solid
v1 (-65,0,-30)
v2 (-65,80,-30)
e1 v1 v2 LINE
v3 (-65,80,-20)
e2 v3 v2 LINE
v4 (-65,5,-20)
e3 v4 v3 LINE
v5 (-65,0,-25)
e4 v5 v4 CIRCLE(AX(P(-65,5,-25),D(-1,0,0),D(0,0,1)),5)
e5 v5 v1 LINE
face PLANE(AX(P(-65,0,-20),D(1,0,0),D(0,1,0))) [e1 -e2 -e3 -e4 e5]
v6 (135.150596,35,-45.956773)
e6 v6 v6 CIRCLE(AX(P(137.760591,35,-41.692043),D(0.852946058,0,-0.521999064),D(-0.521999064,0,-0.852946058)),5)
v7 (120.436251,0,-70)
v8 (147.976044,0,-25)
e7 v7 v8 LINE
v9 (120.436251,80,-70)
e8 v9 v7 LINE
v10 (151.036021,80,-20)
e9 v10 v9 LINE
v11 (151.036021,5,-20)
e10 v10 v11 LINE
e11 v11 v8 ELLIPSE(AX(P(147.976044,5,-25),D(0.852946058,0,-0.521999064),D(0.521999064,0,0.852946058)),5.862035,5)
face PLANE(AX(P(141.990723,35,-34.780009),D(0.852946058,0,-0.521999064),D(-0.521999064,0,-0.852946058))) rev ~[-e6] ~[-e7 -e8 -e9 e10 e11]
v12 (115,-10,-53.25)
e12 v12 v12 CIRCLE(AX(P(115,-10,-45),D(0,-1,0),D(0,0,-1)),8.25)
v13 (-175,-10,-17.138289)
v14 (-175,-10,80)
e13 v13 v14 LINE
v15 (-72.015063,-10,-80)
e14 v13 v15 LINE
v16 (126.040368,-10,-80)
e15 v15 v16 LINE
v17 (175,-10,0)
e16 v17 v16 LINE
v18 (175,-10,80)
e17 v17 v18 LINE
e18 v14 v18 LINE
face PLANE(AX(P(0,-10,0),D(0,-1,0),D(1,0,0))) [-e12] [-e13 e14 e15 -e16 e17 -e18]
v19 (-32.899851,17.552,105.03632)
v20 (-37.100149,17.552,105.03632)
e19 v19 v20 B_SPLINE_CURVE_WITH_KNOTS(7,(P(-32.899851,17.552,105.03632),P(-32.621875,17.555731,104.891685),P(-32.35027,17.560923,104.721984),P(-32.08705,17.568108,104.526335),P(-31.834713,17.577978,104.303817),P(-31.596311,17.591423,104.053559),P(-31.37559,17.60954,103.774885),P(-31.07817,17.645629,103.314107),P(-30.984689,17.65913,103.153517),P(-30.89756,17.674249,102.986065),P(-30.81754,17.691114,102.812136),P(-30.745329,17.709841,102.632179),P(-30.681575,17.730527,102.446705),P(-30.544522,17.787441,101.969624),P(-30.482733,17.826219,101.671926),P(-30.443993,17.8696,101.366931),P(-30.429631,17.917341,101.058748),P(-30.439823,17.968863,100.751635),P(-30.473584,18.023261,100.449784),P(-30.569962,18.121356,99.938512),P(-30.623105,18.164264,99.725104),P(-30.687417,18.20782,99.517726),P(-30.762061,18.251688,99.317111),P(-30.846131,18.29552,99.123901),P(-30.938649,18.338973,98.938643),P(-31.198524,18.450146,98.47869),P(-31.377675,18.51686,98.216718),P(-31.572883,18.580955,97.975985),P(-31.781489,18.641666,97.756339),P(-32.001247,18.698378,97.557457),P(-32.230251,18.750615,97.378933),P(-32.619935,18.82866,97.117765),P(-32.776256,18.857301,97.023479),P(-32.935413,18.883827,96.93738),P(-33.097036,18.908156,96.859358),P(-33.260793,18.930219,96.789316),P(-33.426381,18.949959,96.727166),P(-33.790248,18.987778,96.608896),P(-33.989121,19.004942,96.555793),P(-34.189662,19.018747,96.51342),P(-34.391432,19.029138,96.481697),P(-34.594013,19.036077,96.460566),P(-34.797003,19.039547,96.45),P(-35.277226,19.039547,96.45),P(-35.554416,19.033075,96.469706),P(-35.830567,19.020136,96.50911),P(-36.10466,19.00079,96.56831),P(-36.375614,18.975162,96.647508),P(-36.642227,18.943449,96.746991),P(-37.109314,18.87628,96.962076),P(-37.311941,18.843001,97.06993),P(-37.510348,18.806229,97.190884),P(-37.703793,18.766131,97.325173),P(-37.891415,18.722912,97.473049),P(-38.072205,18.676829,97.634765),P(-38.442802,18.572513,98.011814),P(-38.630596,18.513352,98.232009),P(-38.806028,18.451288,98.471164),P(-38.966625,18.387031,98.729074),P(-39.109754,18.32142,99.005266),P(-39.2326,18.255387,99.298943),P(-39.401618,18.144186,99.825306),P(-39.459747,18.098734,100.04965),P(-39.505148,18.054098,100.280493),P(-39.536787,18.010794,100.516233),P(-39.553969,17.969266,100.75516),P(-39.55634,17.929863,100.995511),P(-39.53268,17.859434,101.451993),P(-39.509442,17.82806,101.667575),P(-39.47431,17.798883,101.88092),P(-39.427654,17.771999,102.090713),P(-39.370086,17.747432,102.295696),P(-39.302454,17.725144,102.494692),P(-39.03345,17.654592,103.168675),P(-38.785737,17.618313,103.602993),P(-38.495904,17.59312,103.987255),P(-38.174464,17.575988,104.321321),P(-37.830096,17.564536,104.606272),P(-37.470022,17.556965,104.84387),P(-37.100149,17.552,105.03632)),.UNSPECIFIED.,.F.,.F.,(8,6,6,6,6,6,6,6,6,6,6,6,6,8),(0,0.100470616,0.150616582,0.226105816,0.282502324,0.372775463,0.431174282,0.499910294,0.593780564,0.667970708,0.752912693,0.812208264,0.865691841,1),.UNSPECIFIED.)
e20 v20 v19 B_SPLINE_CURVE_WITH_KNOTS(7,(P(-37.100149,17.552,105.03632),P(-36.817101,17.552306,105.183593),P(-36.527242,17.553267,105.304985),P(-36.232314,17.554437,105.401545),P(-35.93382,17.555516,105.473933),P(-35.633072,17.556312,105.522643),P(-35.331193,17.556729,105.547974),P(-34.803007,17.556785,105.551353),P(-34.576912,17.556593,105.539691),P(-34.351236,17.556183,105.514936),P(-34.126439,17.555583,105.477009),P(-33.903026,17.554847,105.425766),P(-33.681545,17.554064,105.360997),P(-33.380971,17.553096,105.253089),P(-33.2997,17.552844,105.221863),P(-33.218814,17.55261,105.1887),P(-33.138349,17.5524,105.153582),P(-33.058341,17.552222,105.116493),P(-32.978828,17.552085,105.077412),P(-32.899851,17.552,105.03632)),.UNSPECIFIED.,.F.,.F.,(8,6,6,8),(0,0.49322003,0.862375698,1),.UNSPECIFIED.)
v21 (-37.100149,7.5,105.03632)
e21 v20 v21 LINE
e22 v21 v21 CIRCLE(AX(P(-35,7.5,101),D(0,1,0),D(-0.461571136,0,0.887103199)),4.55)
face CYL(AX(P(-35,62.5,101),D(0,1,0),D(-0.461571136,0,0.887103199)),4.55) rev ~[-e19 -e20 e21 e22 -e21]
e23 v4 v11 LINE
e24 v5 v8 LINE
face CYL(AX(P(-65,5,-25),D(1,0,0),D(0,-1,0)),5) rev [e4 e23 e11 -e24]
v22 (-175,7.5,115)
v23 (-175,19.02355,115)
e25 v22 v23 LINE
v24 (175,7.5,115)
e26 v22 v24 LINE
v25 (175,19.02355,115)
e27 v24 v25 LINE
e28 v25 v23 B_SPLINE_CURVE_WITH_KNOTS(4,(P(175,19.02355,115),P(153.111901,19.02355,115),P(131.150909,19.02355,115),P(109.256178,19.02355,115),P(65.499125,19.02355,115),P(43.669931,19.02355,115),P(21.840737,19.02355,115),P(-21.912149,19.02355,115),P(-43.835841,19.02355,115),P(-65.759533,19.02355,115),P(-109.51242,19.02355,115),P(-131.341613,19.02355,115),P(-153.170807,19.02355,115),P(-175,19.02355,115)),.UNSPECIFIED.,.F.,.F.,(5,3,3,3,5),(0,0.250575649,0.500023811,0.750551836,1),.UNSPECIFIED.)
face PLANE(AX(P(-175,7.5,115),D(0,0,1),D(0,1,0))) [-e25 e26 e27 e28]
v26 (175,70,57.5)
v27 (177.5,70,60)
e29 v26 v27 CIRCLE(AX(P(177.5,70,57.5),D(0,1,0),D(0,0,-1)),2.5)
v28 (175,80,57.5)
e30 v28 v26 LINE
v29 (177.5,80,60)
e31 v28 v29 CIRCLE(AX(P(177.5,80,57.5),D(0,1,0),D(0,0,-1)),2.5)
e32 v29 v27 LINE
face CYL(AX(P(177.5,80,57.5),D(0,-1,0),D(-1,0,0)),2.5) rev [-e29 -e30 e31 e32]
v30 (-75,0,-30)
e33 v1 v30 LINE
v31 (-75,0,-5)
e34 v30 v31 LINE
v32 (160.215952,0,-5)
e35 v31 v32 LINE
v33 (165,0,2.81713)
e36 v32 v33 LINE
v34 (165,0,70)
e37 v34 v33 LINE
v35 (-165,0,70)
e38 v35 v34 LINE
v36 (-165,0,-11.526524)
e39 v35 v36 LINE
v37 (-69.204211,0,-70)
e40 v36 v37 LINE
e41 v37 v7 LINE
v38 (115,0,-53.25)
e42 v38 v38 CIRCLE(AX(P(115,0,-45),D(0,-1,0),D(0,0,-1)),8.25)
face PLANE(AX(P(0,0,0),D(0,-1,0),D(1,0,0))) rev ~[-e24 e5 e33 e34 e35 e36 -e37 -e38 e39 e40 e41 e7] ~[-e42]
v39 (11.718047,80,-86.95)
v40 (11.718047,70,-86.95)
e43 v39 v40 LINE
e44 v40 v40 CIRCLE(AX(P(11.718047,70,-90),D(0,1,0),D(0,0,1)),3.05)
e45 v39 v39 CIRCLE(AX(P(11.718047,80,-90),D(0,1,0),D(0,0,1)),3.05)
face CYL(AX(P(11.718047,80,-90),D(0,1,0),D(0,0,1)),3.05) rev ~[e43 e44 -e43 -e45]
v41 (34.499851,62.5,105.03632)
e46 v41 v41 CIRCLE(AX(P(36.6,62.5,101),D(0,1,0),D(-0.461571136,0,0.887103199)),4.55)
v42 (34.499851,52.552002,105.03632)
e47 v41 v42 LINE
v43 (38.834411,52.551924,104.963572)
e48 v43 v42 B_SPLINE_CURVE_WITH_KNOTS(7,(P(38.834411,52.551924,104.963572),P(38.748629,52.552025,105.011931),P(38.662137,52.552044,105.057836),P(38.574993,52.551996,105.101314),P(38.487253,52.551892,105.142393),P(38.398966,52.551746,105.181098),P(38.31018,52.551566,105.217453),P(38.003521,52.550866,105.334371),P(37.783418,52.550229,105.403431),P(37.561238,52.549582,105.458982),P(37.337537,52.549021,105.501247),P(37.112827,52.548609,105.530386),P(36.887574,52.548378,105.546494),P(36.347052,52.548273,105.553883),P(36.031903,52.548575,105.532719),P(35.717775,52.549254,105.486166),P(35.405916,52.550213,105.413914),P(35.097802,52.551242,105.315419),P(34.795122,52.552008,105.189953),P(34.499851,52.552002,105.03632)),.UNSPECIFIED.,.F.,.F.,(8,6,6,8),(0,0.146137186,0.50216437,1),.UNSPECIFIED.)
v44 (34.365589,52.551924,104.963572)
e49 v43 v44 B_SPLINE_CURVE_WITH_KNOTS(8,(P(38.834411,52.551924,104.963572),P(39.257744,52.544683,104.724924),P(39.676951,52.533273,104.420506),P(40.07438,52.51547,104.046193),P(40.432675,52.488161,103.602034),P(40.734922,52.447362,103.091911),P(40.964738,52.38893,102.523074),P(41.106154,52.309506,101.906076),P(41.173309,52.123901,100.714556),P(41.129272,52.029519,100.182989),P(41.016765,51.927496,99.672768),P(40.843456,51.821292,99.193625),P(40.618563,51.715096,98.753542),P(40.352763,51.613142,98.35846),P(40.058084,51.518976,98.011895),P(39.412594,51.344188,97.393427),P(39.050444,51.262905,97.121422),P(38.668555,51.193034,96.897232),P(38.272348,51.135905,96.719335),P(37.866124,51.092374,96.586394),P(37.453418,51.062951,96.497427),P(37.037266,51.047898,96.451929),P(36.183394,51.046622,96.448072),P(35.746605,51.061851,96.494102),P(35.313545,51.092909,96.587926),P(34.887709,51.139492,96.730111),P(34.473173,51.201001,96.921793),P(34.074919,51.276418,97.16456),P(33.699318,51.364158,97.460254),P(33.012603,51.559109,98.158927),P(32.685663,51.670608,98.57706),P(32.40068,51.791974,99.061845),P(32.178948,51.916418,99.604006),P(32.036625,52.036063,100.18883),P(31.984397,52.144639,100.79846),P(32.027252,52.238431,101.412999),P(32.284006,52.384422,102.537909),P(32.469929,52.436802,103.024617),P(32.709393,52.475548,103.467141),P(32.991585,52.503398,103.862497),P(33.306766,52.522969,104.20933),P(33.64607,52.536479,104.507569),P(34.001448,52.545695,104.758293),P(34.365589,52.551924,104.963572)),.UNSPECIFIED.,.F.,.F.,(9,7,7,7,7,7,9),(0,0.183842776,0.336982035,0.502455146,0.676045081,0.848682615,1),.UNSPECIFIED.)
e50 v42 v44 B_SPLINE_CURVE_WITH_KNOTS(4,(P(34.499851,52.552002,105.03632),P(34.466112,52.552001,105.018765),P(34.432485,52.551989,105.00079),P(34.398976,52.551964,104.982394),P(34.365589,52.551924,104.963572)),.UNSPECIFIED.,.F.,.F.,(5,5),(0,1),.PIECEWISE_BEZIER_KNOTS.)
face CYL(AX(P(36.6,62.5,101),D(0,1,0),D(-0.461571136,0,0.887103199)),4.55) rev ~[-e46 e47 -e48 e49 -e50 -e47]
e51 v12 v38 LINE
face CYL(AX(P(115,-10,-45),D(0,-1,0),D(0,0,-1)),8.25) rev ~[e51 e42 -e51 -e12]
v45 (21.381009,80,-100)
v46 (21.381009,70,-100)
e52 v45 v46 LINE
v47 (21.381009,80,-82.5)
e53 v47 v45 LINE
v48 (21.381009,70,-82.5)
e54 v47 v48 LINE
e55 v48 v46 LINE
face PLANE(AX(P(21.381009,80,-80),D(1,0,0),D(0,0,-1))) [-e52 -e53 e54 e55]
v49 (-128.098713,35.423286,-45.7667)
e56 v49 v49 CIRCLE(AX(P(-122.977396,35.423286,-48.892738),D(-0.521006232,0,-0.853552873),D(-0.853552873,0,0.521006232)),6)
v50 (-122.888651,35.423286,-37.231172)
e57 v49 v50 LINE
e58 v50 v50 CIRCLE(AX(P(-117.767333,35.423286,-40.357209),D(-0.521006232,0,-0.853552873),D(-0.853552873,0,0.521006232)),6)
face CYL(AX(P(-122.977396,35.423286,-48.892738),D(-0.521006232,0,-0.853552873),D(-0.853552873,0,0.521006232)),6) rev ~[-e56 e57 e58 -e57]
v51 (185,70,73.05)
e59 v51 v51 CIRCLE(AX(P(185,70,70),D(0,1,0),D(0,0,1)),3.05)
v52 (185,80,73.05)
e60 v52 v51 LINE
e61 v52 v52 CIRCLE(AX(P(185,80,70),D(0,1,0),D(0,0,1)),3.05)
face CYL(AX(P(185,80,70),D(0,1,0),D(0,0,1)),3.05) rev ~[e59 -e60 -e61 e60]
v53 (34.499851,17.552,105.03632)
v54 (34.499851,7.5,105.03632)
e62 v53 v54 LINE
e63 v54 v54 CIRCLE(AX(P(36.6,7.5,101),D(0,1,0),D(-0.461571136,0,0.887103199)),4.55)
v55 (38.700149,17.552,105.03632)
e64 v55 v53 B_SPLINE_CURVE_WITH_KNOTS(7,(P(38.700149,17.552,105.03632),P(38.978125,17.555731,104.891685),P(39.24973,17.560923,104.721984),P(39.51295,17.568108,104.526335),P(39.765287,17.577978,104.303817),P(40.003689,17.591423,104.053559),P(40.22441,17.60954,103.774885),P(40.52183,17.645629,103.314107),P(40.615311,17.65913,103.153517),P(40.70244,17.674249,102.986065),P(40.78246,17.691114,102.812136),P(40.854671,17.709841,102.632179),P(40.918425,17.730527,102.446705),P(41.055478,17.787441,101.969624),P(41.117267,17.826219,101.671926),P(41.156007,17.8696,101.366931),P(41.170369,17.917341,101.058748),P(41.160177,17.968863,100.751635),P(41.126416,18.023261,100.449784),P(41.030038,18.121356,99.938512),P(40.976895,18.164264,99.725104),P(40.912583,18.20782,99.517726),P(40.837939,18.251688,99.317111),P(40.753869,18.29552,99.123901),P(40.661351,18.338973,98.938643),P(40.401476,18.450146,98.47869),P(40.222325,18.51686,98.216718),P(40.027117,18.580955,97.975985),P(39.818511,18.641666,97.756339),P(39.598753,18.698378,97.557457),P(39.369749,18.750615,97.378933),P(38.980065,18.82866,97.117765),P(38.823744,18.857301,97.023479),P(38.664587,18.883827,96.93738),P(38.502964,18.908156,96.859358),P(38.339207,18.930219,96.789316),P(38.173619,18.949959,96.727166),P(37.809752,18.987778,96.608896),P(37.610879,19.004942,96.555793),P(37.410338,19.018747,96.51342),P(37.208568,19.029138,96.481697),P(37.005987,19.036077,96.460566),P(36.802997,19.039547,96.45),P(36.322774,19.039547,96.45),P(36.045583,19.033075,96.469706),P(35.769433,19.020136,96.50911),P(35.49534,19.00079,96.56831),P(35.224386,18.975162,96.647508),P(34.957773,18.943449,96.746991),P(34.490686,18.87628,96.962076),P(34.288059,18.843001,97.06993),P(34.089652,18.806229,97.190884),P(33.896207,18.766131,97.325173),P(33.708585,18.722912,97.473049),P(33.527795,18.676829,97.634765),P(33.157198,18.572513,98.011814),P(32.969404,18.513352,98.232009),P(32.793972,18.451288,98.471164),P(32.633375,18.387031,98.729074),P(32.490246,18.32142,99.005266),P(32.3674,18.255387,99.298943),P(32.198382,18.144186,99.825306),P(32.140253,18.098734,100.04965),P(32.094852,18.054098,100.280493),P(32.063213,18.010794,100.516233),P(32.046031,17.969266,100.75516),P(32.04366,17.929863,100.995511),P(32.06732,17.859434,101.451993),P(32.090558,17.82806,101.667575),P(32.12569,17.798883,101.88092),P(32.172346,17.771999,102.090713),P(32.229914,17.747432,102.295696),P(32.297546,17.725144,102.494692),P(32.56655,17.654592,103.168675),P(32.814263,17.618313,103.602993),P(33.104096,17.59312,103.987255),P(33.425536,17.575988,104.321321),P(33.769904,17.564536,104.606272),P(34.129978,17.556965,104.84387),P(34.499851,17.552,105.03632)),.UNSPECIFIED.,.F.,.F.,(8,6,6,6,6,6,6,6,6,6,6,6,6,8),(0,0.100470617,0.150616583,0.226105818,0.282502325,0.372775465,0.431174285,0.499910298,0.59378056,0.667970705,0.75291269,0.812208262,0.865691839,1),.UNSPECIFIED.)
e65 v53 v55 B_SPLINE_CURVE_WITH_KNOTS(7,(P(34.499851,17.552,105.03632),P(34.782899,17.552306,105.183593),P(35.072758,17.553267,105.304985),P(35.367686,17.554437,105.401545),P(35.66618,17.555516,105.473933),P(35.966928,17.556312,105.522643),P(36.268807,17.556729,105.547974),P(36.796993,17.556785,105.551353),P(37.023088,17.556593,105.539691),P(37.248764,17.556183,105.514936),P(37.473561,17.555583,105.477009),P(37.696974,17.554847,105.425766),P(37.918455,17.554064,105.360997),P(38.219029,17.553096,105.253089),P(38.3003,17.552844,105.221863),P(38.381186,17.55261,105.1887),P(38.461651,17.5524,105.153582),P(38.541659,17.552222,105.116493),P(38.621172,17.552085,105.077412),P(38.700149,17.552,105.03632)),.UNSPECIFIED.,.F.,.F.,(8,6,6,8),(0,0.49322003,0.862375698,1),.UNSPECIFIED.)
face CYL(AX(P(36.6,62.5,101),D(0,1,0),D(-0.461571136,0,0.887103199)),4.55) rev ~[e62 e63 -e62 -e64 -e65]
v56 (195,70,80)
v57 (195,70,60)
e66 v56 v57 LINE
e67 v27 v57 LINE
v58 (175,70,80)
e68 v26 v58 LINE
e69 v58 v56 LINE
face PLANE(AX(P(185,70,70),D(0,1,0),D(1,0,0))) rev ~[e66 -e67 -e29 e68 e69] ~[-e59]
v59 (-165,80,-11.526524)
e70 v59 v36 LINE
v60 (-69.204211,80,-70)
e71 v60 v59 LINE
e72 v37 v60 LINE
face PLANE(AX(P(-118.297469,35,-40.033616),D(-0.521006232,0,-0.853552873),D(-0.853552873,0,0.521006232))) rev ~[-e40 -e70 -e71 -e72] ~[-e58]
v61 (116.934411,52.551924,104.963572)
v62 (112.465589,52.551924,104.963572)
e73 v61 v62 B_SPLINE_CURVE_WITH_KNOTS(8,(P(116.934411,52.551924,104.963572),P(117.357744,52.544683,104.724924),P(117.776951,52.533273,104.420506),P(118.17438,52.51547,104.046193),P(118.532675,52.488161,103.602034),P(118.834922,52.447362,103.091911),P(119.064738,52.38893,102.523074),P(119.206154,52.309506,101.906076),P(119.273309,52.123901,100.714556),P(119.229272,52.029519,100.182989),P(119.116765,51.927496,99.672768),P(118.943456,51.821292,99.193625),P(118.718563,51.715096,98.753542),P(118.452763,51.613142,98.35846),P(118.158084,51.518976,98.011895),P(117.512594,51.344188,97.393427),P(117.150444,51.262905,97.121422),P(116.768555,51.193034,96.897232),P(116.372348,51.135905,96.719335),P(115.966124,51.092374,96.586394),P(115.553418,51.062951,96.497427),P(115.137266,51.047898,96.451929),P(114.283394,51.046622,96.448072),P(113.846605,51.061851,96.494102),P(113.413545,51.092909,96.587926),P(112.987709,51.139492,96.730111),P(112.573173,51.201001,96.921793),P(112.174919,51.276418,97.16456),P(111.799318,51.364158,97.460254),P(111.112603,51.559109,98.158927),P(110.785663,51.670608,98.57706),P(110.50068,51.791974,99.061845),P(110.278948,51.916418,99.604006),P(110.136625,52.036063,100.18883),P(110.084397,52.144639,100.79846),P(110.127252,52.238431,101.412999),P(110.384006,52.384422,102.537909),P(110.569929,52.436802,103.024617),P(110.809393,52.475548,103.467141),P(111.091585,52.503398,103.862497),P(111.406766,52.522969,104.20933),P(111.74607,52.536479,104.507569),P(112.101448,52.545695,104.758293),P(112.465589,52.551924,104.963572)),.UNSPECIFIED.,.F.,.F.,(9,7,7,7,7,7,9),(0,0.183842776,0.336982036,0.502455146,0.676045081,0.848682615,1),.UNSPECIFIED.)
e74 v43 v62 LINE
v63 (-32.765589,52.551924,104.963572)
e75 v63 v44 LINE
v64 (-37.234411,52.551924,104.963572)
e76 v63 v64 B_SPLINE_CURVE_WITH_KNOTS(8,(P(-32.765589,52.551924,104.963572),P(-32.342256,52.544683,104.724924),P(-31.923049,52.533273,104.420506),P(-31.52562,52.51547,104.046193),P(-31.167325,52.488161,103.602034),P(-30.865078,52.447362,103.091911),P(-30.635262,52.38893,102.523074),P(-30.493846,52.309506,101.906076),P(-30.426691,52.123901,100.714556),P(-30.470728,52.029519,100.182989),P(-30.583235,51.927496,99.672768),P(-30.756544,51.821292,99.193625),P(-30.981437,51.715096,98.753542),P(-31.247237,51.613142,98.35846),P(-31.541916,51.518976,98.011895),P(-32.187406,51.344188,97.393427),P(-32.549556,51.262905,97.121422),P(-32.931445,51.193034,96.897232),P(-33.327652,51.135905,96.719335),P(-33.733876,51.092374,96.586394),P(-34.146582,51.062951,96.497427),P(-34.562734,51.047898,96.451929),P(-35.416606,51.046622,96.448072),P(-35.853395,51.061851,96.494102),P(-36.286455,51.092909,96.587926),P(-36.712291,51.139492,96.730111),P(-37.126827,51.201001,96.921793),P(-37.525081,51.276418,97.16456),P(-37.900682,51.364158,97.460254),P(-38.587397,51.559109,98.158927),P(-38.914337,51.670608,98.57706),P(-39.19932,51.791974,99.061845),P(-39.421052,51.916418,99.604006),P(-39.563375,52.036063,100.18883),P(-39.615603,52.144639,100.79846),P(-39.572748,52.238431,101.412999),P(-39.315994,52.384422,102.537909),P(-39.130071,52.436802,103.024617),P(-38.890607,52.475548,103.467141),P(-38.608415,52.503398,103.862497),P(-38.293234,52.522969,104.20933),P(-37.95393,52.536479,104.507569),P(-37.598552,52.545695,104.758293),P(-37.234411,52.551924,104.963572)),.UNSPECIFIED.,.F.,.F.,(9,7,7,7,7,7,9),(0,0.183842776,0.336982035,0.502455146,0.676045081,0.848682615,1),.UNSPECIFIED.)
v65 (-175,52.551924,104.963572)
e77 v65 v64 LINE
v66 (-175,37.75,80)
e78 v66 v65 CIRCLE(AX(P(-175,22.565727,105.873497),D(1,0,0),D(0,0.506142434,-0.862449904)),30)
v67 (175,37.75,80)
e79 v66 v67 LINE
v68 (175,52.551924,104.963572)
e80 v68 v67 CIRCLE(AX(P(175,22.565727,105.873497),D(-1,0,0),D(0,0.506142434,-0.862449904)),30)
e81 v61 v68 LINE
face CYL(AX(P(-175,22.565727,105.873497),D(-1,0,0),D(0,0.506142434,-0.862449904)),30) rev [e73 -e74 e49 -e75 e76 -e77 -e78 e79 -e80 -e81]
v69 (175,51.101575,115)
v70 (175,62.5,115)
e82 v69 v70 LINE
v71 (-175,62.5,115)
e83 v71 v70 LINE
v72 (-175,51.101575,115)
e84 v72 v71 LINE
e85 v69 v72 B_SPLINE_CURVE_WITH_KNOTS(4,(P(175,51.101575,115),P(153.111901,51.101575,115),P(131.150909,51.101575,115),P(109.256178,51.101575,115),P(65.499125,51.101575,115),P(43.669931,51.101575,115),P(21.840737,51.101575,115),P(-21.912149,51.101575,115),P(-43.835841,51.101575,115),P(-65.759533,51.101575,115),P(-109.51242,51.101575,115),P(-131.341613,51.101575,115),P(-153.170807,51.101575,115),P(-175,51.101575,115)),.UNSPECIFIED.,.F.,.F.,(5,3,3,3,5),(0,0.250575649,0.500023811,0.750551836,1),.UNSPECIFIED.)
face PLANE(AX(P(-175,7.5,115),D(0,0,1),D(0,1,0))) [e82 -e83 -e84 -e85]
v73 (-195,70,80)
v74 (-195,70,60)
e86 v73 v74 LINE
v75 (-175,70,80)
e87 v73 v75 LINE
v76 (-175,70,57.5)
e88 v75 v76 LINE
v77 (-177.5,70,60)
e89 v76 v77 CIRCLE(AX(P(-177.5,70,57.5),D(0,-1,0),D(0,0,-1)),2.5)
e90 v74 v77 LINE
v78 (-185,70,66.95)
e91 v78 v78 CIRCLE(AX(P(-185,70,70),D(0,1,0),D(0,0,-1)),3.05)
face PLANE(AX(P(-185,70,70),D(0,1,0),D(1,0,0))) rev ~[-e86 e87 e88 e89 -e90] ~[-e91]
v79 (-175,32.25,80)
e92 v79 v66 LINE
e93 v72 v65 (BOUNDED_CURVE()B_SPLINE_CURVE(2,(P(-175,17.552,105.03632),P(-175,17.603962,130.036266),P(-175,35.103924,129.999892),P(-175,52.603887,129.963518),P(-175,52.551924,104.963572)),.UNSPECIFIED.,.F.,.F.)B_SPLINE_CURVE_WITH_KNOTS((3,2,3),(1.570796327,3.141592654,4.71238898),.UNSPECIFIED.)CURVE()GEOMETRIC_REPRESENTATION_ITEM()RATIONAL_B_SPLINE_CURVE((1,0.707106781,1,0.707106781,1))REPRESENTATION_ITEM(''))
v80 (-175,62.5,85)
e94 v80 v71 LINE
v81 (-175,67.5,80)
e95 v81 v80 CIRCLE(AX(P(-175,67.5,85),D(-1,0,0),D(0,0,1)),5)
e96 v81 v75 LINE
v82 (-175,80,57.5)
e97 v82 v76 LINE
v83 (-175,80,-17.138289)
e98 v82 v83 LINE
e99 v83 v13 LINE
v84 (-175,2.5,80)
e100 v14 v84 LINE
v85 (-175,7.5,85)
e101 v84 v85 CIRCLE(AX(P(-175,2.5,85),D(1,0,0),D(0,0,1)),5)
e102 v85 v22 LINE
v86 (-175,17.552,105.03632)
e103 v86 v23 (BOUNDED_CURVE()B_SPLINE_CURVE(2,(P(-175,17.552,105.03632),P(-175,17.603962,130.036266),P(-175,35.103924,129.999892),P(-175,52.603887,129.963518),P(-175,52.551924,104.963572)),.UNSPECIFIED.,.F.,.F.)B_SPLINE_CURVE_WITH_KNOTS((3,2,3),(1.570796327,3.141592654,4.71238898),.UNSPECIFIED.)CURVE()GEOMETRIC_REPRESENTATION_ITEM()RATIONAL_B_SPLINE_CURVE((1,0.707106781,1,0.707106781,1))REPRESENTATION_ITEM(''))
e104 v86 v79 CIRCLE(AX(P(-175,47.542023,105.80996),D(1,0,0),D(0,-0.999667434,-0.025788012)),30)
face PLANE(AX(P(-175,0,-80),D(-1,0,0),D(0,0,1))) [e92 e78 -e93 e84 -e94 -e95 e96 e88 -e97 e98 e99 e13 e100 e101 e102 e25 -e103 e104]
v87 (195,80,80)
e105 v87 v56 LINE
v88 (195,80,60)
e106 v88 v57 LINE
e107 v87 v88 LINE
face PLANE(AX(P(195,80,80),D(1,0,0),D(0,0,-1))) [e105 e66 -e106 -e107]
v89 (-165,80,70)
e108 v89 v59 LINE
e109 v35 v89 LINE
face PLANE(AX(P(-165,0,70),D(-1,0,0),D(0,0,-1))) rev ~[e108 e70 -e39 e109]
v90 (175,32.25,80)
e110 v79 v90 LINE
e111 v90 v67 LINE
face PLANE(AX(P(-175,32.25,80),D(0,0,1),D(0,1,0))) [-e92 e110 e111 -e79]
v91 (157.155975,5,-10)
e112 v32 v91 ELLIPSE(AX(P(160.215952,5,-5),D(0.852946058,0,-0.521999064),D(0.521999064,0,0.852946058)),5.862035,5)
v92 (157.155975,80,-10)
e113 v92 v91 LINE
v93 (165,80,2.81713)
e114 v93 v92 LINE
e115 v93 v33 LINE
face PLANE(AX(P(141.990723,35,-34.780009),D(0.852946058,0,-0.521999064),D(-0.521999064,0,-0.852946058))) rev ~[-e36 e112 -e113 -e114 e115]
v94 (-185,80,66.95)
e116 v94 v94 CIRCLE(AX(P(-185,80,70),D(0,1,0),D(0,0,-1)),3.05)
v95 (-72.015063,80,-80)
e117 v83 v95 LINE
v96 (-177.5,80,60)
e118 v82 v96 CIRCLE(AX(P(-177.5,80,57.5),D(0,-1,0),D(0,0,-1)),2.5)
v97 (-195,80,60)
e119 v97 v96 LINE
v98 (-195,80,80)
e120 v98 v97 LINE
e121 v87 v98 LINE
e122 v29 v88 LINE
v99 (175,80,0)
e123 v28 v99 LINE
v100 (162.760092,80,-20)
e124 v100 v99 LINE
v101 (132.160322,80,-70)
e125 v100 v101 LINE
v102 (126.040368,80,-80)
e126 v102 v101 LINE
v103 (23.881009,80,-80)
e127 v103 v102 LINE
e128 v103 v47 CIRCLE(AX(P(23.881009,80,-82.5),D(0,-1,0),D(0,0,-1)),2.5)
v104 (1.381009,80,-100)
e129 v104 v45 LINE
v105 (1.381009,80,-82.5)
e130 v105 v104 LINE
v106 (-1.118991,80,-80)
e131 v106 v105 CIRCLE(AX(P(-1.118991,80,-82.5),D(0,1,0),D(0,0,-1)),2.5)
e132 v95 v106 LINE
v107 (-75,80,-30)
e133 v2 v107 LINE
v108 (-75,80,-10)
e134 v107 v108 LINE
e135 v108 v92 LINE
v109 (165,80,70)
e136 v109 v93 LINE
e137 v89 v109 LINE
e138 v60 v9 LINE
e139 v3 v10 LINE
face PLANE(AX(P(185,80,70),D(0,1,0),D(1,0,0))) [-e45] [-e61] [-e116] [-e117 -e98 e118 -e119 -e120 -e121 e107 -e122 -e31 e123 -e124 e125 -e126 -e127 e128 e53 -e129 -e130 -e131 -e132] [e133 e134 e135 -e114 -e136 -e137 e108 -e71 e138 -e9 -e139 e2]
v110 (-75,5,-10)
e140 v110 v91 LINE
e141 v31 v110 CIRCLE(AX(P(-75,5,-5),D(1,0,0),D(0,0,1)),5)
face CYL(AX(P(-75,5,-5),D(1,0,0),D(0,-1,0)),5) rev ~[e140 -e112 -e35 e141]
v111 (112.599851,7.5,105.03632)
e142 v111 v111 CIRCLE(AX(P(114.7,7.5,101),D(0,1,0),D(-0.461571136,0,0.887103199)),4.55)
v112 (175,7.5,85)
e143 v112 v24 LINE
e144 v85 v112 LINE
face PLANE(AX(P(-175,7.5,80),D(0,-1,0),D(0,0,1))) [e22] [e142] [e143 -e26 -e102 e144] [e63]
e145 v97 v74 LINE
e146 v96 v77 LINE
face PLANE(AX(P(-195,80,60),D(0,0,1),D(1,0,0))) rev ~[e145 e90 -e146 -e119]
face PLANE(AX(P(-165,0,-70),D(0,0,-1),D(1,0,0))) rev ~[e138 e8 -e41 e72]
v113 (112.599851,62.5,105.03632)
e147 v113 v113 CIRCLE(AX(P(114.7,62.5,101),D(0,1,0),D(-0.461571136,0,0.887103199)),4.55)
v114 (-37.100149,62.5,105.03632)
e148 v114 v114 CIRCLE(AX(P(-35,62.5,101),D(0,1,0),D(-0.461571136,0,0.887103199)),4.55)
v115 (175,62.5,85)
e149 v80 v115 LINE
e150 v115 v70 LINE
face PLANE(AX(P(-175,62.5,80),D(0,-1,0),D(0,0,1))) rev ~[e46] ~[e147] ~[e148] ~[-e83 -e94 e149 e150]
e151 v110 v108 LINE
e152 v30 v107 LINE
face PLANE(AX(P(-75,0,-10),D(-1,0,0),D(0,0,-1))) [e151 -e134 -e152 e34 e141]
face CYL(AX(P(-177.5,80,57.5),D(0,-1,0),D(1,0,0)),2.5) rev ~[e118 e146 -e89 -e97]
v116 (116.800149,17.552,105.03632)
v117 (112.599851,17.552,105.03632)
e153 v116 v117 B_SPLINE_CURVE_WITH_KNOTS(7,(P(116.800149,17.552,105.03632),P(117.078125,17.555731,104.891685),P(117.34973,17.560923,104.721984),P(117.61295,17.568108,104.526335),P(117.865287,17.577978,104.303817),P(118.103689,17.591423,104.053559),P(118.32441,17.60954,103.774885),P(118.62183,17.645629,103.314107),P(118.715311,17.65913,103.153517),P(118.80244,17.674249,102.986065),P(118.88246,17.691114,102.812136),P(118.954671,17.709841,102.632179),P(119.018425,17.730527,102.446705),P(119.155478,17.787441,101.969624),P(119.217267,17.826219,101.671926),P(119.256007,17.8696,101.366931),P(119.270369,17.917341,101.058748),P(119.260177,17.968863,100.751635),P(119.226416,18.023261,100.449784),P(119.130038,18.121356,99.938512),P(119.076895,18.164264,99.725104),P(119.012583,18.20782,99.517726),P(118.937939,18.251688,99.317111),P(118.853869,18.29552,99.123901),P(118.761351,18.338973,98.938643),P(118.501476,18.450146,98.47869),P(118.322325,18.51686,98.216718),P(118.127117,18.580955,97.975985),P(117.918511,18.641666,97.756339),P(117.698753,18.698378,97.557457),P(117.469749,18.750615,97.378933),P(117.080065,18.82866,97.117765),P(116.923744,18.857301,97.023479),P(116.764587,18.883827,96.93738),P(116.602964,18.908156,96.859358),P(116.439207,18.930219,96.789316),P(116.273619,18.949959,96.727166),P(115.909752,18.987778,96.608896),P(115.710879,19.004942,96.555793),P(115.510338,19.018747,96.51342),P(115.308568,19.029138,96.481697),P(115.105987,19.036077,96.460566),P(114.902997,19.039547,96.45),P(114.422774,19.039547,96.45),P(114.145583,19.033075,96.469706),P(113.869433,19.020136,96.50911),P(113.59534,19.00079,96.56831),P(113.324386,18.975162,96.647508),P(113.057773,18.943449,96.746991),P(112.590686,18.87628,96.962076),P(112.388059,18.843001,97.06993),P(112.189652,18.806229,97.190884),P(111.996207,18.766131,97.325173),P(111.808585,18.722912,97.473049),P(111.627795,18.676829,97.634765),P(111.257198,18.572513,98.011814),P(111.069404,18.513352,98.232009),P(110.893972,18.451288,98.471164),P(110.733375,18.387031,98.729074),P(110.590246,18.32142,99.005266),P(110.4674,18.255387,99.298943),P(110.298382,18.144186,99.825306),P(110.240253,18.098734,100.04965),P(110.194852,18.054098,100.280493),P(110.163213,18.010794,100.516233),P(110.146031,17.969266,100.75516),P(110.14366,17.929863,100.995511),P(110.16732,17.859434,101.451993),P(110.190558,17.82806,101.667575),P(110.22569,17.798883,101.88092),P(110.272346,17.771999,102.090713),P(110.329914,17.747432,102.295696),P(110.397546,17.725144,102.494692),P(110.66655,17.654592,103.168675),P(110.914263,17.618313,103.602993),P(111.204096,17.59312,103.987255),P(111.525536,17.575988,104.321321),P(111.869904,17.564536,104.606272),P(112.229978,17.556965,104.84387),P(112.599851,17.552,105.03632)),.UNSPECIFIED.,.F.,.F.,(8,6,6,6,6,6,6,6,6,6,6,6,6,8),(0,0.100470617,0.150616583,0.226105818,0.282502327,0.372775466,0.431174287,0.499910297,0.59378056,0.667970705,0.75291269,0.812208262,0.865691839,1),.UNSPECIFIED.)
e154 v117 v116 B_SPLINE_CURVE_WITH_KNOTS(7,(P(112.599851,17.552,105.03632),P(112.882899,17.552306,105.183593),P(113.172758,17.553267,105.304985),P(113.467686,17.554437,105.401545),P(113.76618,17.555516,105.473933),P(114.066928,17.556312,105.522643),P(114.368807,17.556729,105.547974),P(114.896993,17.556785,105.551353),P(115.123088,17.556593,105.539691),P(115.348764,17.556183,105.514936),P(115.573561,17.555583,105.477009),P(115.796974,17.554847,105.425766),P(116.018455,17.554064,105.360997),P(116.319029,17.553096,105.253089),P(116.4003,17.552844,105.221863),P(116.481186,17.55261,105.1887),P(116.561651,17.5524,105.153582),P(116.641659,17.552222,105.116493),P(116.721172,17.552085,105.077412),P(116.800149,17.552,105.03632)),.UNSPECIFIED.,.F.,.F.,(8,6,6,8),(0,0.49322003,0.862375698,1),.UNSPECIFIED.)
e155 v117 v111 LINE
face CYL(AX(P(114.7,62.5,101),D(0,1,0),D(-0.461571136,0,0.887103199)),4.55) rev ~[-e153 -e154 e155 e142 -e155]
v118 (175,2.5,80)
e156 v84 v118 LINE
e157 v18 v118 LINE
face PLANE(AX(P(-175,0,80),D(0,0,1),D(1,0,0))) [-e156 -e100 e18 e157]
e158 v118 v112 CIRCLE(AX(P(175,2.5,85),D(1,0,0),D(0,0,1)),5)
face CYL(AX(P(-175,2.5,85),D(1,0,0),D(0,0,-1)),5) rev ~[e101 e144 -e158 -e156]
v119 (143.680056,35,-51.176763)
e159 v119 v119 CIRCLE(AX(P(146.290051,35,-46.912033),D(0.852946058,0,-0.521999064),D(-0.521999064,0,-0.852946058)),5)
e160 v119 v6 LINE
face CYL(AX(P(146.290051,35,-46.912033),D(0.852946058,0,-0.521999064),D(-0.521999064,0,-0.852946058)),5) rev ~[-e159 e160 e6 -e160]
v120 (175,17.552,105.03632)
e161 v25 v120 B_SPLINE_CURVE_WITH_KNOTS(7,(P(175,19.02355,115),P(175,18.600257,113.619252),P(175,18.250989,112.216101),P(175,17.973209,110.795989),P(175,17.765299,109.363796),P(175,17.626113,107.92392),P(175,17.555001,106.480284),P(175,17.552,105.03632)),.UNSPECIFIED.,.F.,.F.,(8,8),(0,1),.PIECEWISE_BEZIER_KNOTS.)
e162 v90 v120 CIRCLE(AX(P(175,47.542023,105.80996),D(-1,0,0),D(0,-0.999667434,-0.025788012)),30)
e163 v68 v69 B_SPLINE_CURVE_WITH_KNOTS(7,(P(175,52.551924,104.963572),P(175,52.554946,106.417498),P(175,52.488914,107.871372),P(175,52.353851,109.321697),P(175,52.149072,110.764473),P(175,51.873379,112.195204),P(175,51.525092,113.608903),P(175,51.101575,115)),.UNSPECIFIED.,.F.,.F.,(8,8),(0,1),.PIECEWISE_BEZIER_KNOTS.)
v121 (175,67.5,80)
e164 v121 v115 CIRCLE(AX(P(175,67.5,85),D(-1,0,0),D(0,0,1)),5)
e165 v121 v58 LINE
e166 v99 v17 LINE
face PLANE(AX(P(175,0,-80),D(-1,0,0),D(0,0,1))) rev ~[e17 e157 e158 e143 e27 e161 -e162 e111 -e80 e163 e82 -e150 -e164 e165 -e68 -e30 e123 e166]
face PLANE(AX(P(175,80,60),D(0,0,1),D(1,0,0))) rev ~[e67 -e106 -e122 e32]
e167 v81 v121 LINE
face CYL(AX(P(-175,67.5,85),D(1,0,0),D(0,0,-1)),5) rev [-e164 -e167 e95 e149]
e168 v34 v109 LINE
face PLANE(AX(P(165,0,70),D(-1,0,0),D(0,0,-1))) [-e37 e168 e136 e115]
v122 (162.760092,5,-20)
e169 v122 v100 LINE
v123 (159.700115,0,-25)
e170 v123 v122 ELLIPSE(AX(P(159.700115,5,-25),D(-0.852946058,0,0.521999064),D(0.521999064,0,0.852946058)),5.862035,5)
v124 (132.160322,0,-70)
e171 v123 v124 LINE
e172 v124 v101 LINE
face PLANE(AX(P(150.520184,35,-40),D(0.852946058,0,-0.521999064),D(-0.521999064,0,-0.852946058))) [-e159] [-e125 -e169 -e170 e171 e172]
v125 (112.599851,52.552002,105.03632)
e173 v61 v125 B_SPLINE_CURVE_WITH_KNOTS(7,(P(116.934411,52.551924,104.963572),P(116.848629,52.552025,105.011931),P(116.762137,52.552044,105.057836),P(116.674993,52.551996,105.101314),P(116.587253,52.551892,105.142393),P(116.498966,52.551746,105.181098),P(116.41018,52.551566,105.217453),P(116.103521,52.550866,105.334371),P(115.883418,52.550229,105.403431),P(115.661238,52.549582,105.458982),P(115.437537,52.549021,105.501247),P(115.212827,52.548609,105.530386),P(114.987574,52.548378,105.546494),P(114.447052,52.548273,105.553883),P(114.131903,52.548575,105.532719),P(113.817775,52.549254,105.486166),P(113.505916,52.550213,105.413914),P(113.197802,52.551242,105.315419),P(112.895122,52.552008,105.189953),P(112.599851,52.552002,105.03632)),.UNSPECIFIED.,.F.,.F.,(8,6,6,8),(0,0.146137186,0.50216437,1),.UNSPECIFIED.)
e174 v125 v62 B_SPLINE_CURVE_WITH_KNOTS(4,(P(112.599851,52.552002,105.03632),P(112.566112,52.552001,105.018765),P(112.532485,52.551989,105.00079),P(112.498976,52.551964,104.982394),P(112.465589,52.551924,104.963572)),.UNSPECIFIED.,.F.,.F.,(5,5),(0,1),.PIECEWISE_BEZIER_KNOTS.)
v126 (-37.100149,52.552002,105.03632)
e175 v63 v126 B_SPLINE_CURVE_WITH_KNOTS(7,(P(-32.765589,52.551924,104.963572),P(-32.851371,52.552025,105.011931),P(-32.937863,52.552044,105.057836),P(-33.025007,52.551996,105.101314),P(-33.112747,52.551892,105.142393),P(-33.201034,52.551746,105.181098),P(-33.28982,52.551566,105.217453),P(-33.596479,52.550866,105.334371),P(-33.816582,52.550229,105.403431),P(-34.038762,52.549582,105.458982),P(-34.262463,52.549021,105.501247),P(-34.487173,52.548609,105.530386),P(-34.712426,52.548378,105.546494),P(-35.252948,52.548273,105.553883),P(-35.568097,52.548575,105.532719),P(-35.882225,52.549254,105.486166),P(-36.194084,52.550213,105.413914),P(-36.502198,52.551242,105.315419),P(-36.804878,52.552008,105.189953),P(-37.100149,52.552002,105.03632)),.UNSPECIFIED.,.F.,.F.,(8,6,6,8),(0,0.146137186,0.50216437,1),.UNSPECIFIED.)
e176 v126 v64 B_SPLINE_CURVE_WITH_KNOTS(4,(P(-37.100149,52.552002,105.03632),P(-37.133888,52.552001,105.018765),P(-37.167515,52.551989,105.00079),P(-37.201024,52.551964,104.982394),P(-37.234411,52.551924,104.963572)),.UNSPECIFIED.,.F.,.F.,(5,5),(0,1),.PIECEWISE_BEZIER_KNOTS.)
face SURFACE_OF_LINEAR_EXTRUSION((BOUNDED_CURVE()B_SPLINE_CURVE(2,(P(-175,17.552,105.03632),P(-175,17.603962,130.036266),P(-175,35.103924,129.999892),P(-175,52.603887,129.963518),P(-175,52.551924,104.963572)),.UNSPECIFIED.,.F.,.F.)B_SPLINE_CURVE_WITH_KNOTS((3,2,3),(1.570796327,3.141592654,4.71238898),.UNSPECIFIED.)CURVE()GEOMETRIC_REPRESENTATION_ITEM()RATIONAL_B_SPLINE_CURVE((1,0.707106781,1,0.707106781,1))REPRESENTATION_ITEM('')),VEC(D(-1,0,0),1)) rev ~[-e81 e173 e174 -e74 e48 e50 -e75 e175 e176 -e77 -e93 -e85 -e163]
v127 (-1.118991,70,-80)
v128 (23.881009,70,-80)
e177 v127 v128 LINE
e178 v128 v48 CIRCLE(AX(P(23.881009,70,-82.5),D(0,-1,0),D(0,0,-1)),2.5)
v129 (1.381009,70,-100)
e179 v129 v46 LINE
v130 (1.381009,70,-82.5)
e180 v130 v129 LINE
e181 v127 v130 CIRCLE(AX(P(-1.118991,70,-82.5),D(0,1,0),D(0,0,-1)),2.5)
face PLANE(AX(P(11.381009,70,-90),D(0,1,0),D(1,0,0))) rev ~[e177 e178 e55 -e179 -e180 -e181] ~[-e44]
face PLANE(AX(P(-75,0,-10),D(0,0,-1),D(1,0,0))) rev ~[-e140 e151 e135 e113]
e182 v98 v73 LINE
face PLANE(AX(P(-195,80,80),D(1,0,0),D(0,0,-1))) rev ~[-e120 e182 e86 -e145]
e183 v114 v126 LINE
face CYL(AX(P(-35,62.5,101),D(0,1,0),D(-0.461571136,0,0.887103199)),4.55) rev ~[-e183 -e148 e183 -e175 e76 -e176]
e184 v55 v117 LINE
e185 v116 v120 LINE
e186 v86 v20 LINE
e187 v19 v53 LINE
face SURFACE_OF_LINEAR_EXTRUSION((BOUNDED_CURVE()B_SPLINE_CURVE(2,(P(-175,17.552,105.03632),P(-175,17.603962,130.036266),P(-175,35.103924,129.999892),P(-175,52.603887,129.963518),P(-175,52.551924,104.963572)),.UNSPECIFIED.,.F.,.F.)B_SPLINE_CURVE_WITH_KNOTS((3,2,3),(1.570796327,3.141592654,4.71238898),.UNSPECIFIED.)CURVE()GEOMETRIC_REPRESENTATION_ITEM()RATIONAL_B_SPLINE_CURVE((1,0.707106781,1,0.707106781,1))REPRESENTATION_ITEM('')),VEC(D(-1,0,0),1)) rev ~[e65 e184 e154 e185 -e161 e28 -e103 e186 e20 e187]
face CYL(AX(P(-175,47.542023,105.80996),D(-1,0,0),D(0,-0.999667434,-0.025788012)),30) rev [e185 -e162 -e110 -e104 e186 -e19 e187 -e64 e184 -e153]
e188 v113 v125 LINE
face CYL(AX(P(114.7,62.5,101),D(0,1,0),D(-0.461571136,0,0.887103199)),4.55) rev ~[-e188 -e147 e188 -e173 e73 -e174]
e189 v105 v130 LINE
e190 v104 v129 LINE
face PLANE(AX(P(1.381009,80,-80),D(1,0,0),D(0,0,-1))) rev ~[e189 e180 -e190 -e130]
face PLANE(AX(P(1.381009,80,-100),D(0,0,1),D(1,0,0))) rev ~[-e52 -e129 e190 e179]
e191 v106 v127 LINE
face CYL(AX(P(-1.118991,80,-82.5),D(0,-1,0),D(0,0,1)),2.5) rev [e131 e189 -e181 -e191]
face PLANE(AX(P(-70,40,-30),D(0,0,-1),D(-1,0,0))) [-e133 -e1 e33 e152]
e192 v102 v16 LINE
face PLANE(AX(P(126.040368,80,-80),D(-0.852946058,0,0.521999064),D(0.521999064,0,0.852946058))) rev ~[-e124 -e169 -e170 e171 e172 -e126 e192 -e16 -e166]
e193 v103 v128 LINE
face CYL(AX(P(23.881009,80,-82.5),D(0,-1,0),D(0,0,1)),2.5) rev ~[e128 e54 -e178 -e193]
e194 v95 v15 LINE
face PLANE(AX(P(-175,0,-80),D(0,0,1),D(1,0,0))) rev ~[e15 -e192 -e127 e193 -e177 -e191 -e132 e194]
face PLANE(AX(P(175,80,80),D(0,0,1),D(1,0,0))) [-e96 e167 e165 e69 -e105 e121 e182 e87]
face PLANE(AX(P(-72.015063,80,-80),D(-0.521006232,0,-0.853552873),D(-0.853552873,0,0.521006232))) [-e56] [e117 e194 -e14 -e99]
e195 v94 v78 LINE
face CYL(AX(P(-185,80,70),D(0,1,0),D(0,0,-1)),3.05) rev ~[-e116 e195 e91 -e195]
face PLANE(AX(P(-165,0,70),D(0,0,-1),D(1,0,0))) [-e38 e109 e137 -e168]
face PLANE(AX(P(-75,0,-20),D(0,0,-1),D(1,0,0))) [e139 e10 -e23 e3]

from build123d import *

# Parameters (mm, degrees)
SKETCH1_W            = 350
SKETCH1_H            = 160
SKETCH1_W_2          = 330
SKETCH1_H_2          = 140
BOSS_EXTRUDE1_DEPTH  = 80
SKETCH2_W            = 350
SKETCH2_H            = 160
BOSS_EXTRUDE2_DEPTH  = 10
SKETCH3_W            = 240
SKETCH3_H            = 10
BOSS_EXTRUDE3_DEPTH  = 80
SKETCH4_R            = 8.25
CUT_EXTRUDE1_DEPTH   = 10
SKETCH5_W            = 10
SKETCH5_H            = 80
BOSS_EXTRUDE4_DEPTH  = 10
SKETCH6_W            = 35
SKETCH6_H            = 55
BOSS_EXTRUDE5_DEPTH  = 350
CUT_EXTRUDE2_DEPTH   = 377.994694923
SKETCH8_R            = 4.55
CUT_EXTRUDE3_DEPTH   = 222.599300704
SKETCH9_W            = 20
SKETCH9_H            = 20
SKETCH9_R            = 3.05
BOSS_EXTRUDE7_DEPTH  = 10
FILLET1_R            = 5
CUT_EXTRUDE5_DEPTH   = 244.618554386
SKETCH13_W           = 120.654432285
SKETCH13_H           = 90
BOSS_EXTRUDE8_DEPTH  = 10
CUT_EXTRUDE8_DEPTH   = 244.618554386
SKETCH15_W           = 93.792566681
SKETCH15_H           = 90
BOSS_EXTRUDE9_DEPTH  = 10
SKETCH16_W           = 20
SKETCH16_H           = 20
SKETCH16_R           = 3.05
BOSS_EXTRUDE10_DEPTH = 10
SKETCH17_R           = 5
CUT_EXTRUDE9_DEPTH   = 10
SKETCH18_R           = 6
CUT_EXTRUDE10_DEPTH  = 10
FILLET2_R            = 2.5


with BuildPart() as part:
    # Sketch1 → Boss-Extrude1 (new body)
    with BuildSketch(Plane(origin=(0, 0, 0), x_dir=(1, 0, 0), z_dir=(0, 1, 0))):
        Rectangle(SKETCH1_W, SKETCH1_H)
        Rectangle(SKETCH1_W_2, SKETCH1_H_2, mode=Mode.SUBTRACT)
    extrude(amount=BOSS_EXTRUDE1_DEPTH)

    # Sketch2 → Boss-Extrude2 (add)
    with BuildSketch(Plane.XZ):
        Rectangle(SKETCH2_W, SKETCH2_H)
    extrude(amount=BOSS_EXTRUDE2_DEPTH)

    # Sketch3 → Boss-Extrude3 (add)
    with BuildSketch(Plane(origin=(0, 0, 0), x_dir=(1, 0, 0), z_dir=(0, 1, 0))):
        with Locations((45, 15)):
            Rectangle(SKETCH3_W, SKETCH3_H)
    extrude(amount=BOSS_EXTRUDE3_DEPTH)

    # Sketch4 → Cut-Extrude1 (cut)
    with BuildSketch(Plane.XZ.offset(10)):
        with Locations(Location((115, -45, 0), (0, 0, 270))):
            Circle(SKETCH4_R)
    extrude(amount=-CUT_EXTRUDE1_DEPTH, mode=Mode.SUBTRACT)

    # Sketch5 → Boss-Extrude4 (add)
    with BuildSketch(Plane(origin=(0, 0, -20), x_dir=(-1, 0, 0), z_dir=(0, 0, -1))):
        with Locations((70, 40)):
            Rectangle(SKETCH5_W, SKETCH5_H)
    extrude(amount=BOSS_EXTRUDE4_DEPTH)

    # Sketch6 → Boss-Extrude5 (add)
    with BuildSketch(Plane.ZY.offset(175)):
        with Locations((97.5, 35)):
            Rectangle(SKETCH6_W, SKETCH6_H)
    extrude(amount=-BOSS_EXTRUDE5_DEPTH)

    # Sketch7 → Cut-Extrude2 (cut, through all)
    with BuildSketch(Plane.ZY.offset(175)):
        with BuildLine():
            Line((80, 32.25), (80, 37.75))
            ThreePointArc((80, 37.75), (90.572772871, 48.370529591), (104.96357244, 52.551924426))
            add(Edge.make_bspline(
                [(105.036319557, 17.552000028), (130.036265556, 17.603962255), (129.999891997, 35.103924454), (129.963518438, 52.603886653), (104.96357244, 52.551924426)],
                knots=[1.570796327, 1.570796327, 1.570796327, 3.141592654, 3.141592654, 4.71238898, 4.71238898, 4.71238898], degree=2, weights=[1, 0.707106781, 1, 0.707106781, 1]))
            ThreePointArc((105.036319557, 17.552000028), (90.621814813, 21.670798719), (80, 32.25))
        make_face()
    extrude(amount=-CUT_EXTRUDE2_DEPTH, mode=Mode.SUBTRACT)

    # Sketch8 → Cut-Extrude3 (cut, through all)
    with BuildSketch(Plane(origin=(0, 62.5, 0), x_dir=(1, 0, 0), z_dir=(0, 1, 0))):
        with Locations(Location((-35, -101, 0), (0, 0, 242.51146341))):
            Circle(SKETCH8_R)
        with Locations(Location((36.6, -101, 0), (0, 0, 242.51146341))):
            Circle(SKETCH8_R)
        with Locations(Location((114.7, -101, 0), (0, 0, 242.51146341))):
            Circle(SKETCH8_R)
    extrude(amount=-CUT_EXTRUDE3_DEPTH, mode=Mode.SUBTRACT)

    # Sketch9 → Boss-Extrude7 (add)
    # profile 1 of 2: a face of its own
    with BuildSketch(Plane(origin=(0, 80, 0), x_dir=(1, 0, 0), z_dir=(0, 1, 0))):
        with Locations((185, -70)):
            Rectangle(SKETCH9_W, SKETCH9_H)
        with Locations(Location((185, -70, 0), (0, 0, 270))):
            Circle(SKETCH9_R, mode=Mode.SUBTRACT)
    # profile 2 of 2: a face of its own
    with BuildSketch(Plane(origin=(0, 80, 0), x_dir=(1, 0, 0), z_dir=(0, 1, 0))):
        with Locations((-185, -70)):
            Rectangle(SKETCH9_W, SKETCH9_H)
        with Locations(Location((-185, -70, 0), (0, 0, 90))):
            Circle(SKETCH9_R, mode=Mode.SUBTRACT)
    extrude(amount=-BOSS_EXTRUDE7_DEPTH)

    # Fillet1
    fillet1_edges = [part.edges().sort_by_distance(p)[0] for p in [
        (45, 0, -10),
        (50, 0, -20),
        (0, 7.5, 80),
        (0, 62.5, 80),
    ]]
    fillet(fillet1_edges, radius=FILLET1_R)

    # Sketch12 → Cut-Extrude5 (cut, through all)
    with BuildSketch(Plane(origin=(0, 80, 0), x_dir=(1, 0, 0), z_dir=(0, 1, 0))):
        Polygon((-72.01506271, 80), (-175, 17.138288908), (-175, 80), align=None)
    extrude(amount=-CUT_EXTRUDE5_DEPTH, mode=Mode.SUBTRACT)

    # Sketch13 → Boss-Extrude8 (add)
    with BuildSketch(Plane(origin=(-55.124817516, 0, -90.309757345), x_dir=(-0.8535528727753664, 0, 0.5210062316104475), z_dir=(-0.5210062316104475, 0, -0.8535528727753664))):
        with Locations((80.115381273, 35)):
            Rectangle(SKETCH13_W, SKETCH13_H)
    extrude(amount=-BOSS_EXTRUDE8_DEPTH)

    # Sketch14 → Cut-Extrude8 (cut, through all)
    with BuildSketch(Plane(origin=(0, 80, 0), x_dir=(1, 0, 0), z_dir=(0, 1, 0))):
        Polygon((126.04036801, 80), (175, 0), (175, 80), align=None)
    extrude(amount=-CUT_EXTRUDE8_DEPTH, mode=Mode.SUBTRACT)

    # Sketch15 → Boss-Extrude9 (add)
    with BuildSketch(Plane(origin=(127.315471061, 0, -77.916482622), x_dir=(-0.5219990637024984, 0, -0.8529460577866077), z_dir=(0.8529460577866077, 0, -0.5219990637024984))):
        with Locations((-44.453552808, 35)):
            Rectangle(SKETCH15_W, SKETCH15_H)
    extrude(amount=-BOSS_EXTRUDE9_DEPTH)

    # Sketch16 → Boss-Extrude10 (add)
    with BuildSketch(Plane(origin=(0, 80, 0), x_dir=(1, 0, 0), z_dir=(0, 1, 0))):
        with Locations((11.381009241, 90)):
            Rectangle(SKETCH16_W, SKETCH16_H)
        with Locations(Location((11.718047049, 90, 0), (0, 0, 270))):
            Circle(SKETCH16_R, mode=Mode.SUBTRACT)
    extrude(amount=-BOSS_EXTRUDE10_DEPTH)

    # Sketch17 → Cut-Extrude9 (cut)
    with BuildSketch(Plane(origin=(127.315471061, 0, -77.916482622), x_dir=(-0.5219990637024984, 0, -0.8529460577866076), z_dir=(0.8529460577866077, 0, -0.5219990637024985))):
        with Locations((-36.349836148, 35)):
            Circle(SKETCH17_R)
    extrude(amount=-CUT_EXTRUDE9_DEPTH, mode=Mode.SUBTRACT)

    # Sketch18 → Cut-Extrude10 (cut)
    with BuildSketch(Plane(origin=(-55.124817516, 0, -90.309757345), x_dir=(-0.8535528727753664, 0, 0.5210062316104476), z_dir=(-0.5210062316104476, 0, -0.8535528727753664))):
        with Locations((79.494288209, 35.423286216)):
            Circle(SKETCH18_R)
    extrude(amount=-CUT_EXTRUDE10_DEPTH, mode=Mode.SUBTRACT)

    # Fillet2
    fillet2_edges = [part.edges().sort_by_distance(p)[0] for p in [
        (175, 75, 60),
        (-175, 75, 60),
        (1.381009241, 75, -80),
        (21.381009241, 75, -80),
    ]]
    fillet(fillet2_edges, radius=FILLET2_R)


solid = part.part
